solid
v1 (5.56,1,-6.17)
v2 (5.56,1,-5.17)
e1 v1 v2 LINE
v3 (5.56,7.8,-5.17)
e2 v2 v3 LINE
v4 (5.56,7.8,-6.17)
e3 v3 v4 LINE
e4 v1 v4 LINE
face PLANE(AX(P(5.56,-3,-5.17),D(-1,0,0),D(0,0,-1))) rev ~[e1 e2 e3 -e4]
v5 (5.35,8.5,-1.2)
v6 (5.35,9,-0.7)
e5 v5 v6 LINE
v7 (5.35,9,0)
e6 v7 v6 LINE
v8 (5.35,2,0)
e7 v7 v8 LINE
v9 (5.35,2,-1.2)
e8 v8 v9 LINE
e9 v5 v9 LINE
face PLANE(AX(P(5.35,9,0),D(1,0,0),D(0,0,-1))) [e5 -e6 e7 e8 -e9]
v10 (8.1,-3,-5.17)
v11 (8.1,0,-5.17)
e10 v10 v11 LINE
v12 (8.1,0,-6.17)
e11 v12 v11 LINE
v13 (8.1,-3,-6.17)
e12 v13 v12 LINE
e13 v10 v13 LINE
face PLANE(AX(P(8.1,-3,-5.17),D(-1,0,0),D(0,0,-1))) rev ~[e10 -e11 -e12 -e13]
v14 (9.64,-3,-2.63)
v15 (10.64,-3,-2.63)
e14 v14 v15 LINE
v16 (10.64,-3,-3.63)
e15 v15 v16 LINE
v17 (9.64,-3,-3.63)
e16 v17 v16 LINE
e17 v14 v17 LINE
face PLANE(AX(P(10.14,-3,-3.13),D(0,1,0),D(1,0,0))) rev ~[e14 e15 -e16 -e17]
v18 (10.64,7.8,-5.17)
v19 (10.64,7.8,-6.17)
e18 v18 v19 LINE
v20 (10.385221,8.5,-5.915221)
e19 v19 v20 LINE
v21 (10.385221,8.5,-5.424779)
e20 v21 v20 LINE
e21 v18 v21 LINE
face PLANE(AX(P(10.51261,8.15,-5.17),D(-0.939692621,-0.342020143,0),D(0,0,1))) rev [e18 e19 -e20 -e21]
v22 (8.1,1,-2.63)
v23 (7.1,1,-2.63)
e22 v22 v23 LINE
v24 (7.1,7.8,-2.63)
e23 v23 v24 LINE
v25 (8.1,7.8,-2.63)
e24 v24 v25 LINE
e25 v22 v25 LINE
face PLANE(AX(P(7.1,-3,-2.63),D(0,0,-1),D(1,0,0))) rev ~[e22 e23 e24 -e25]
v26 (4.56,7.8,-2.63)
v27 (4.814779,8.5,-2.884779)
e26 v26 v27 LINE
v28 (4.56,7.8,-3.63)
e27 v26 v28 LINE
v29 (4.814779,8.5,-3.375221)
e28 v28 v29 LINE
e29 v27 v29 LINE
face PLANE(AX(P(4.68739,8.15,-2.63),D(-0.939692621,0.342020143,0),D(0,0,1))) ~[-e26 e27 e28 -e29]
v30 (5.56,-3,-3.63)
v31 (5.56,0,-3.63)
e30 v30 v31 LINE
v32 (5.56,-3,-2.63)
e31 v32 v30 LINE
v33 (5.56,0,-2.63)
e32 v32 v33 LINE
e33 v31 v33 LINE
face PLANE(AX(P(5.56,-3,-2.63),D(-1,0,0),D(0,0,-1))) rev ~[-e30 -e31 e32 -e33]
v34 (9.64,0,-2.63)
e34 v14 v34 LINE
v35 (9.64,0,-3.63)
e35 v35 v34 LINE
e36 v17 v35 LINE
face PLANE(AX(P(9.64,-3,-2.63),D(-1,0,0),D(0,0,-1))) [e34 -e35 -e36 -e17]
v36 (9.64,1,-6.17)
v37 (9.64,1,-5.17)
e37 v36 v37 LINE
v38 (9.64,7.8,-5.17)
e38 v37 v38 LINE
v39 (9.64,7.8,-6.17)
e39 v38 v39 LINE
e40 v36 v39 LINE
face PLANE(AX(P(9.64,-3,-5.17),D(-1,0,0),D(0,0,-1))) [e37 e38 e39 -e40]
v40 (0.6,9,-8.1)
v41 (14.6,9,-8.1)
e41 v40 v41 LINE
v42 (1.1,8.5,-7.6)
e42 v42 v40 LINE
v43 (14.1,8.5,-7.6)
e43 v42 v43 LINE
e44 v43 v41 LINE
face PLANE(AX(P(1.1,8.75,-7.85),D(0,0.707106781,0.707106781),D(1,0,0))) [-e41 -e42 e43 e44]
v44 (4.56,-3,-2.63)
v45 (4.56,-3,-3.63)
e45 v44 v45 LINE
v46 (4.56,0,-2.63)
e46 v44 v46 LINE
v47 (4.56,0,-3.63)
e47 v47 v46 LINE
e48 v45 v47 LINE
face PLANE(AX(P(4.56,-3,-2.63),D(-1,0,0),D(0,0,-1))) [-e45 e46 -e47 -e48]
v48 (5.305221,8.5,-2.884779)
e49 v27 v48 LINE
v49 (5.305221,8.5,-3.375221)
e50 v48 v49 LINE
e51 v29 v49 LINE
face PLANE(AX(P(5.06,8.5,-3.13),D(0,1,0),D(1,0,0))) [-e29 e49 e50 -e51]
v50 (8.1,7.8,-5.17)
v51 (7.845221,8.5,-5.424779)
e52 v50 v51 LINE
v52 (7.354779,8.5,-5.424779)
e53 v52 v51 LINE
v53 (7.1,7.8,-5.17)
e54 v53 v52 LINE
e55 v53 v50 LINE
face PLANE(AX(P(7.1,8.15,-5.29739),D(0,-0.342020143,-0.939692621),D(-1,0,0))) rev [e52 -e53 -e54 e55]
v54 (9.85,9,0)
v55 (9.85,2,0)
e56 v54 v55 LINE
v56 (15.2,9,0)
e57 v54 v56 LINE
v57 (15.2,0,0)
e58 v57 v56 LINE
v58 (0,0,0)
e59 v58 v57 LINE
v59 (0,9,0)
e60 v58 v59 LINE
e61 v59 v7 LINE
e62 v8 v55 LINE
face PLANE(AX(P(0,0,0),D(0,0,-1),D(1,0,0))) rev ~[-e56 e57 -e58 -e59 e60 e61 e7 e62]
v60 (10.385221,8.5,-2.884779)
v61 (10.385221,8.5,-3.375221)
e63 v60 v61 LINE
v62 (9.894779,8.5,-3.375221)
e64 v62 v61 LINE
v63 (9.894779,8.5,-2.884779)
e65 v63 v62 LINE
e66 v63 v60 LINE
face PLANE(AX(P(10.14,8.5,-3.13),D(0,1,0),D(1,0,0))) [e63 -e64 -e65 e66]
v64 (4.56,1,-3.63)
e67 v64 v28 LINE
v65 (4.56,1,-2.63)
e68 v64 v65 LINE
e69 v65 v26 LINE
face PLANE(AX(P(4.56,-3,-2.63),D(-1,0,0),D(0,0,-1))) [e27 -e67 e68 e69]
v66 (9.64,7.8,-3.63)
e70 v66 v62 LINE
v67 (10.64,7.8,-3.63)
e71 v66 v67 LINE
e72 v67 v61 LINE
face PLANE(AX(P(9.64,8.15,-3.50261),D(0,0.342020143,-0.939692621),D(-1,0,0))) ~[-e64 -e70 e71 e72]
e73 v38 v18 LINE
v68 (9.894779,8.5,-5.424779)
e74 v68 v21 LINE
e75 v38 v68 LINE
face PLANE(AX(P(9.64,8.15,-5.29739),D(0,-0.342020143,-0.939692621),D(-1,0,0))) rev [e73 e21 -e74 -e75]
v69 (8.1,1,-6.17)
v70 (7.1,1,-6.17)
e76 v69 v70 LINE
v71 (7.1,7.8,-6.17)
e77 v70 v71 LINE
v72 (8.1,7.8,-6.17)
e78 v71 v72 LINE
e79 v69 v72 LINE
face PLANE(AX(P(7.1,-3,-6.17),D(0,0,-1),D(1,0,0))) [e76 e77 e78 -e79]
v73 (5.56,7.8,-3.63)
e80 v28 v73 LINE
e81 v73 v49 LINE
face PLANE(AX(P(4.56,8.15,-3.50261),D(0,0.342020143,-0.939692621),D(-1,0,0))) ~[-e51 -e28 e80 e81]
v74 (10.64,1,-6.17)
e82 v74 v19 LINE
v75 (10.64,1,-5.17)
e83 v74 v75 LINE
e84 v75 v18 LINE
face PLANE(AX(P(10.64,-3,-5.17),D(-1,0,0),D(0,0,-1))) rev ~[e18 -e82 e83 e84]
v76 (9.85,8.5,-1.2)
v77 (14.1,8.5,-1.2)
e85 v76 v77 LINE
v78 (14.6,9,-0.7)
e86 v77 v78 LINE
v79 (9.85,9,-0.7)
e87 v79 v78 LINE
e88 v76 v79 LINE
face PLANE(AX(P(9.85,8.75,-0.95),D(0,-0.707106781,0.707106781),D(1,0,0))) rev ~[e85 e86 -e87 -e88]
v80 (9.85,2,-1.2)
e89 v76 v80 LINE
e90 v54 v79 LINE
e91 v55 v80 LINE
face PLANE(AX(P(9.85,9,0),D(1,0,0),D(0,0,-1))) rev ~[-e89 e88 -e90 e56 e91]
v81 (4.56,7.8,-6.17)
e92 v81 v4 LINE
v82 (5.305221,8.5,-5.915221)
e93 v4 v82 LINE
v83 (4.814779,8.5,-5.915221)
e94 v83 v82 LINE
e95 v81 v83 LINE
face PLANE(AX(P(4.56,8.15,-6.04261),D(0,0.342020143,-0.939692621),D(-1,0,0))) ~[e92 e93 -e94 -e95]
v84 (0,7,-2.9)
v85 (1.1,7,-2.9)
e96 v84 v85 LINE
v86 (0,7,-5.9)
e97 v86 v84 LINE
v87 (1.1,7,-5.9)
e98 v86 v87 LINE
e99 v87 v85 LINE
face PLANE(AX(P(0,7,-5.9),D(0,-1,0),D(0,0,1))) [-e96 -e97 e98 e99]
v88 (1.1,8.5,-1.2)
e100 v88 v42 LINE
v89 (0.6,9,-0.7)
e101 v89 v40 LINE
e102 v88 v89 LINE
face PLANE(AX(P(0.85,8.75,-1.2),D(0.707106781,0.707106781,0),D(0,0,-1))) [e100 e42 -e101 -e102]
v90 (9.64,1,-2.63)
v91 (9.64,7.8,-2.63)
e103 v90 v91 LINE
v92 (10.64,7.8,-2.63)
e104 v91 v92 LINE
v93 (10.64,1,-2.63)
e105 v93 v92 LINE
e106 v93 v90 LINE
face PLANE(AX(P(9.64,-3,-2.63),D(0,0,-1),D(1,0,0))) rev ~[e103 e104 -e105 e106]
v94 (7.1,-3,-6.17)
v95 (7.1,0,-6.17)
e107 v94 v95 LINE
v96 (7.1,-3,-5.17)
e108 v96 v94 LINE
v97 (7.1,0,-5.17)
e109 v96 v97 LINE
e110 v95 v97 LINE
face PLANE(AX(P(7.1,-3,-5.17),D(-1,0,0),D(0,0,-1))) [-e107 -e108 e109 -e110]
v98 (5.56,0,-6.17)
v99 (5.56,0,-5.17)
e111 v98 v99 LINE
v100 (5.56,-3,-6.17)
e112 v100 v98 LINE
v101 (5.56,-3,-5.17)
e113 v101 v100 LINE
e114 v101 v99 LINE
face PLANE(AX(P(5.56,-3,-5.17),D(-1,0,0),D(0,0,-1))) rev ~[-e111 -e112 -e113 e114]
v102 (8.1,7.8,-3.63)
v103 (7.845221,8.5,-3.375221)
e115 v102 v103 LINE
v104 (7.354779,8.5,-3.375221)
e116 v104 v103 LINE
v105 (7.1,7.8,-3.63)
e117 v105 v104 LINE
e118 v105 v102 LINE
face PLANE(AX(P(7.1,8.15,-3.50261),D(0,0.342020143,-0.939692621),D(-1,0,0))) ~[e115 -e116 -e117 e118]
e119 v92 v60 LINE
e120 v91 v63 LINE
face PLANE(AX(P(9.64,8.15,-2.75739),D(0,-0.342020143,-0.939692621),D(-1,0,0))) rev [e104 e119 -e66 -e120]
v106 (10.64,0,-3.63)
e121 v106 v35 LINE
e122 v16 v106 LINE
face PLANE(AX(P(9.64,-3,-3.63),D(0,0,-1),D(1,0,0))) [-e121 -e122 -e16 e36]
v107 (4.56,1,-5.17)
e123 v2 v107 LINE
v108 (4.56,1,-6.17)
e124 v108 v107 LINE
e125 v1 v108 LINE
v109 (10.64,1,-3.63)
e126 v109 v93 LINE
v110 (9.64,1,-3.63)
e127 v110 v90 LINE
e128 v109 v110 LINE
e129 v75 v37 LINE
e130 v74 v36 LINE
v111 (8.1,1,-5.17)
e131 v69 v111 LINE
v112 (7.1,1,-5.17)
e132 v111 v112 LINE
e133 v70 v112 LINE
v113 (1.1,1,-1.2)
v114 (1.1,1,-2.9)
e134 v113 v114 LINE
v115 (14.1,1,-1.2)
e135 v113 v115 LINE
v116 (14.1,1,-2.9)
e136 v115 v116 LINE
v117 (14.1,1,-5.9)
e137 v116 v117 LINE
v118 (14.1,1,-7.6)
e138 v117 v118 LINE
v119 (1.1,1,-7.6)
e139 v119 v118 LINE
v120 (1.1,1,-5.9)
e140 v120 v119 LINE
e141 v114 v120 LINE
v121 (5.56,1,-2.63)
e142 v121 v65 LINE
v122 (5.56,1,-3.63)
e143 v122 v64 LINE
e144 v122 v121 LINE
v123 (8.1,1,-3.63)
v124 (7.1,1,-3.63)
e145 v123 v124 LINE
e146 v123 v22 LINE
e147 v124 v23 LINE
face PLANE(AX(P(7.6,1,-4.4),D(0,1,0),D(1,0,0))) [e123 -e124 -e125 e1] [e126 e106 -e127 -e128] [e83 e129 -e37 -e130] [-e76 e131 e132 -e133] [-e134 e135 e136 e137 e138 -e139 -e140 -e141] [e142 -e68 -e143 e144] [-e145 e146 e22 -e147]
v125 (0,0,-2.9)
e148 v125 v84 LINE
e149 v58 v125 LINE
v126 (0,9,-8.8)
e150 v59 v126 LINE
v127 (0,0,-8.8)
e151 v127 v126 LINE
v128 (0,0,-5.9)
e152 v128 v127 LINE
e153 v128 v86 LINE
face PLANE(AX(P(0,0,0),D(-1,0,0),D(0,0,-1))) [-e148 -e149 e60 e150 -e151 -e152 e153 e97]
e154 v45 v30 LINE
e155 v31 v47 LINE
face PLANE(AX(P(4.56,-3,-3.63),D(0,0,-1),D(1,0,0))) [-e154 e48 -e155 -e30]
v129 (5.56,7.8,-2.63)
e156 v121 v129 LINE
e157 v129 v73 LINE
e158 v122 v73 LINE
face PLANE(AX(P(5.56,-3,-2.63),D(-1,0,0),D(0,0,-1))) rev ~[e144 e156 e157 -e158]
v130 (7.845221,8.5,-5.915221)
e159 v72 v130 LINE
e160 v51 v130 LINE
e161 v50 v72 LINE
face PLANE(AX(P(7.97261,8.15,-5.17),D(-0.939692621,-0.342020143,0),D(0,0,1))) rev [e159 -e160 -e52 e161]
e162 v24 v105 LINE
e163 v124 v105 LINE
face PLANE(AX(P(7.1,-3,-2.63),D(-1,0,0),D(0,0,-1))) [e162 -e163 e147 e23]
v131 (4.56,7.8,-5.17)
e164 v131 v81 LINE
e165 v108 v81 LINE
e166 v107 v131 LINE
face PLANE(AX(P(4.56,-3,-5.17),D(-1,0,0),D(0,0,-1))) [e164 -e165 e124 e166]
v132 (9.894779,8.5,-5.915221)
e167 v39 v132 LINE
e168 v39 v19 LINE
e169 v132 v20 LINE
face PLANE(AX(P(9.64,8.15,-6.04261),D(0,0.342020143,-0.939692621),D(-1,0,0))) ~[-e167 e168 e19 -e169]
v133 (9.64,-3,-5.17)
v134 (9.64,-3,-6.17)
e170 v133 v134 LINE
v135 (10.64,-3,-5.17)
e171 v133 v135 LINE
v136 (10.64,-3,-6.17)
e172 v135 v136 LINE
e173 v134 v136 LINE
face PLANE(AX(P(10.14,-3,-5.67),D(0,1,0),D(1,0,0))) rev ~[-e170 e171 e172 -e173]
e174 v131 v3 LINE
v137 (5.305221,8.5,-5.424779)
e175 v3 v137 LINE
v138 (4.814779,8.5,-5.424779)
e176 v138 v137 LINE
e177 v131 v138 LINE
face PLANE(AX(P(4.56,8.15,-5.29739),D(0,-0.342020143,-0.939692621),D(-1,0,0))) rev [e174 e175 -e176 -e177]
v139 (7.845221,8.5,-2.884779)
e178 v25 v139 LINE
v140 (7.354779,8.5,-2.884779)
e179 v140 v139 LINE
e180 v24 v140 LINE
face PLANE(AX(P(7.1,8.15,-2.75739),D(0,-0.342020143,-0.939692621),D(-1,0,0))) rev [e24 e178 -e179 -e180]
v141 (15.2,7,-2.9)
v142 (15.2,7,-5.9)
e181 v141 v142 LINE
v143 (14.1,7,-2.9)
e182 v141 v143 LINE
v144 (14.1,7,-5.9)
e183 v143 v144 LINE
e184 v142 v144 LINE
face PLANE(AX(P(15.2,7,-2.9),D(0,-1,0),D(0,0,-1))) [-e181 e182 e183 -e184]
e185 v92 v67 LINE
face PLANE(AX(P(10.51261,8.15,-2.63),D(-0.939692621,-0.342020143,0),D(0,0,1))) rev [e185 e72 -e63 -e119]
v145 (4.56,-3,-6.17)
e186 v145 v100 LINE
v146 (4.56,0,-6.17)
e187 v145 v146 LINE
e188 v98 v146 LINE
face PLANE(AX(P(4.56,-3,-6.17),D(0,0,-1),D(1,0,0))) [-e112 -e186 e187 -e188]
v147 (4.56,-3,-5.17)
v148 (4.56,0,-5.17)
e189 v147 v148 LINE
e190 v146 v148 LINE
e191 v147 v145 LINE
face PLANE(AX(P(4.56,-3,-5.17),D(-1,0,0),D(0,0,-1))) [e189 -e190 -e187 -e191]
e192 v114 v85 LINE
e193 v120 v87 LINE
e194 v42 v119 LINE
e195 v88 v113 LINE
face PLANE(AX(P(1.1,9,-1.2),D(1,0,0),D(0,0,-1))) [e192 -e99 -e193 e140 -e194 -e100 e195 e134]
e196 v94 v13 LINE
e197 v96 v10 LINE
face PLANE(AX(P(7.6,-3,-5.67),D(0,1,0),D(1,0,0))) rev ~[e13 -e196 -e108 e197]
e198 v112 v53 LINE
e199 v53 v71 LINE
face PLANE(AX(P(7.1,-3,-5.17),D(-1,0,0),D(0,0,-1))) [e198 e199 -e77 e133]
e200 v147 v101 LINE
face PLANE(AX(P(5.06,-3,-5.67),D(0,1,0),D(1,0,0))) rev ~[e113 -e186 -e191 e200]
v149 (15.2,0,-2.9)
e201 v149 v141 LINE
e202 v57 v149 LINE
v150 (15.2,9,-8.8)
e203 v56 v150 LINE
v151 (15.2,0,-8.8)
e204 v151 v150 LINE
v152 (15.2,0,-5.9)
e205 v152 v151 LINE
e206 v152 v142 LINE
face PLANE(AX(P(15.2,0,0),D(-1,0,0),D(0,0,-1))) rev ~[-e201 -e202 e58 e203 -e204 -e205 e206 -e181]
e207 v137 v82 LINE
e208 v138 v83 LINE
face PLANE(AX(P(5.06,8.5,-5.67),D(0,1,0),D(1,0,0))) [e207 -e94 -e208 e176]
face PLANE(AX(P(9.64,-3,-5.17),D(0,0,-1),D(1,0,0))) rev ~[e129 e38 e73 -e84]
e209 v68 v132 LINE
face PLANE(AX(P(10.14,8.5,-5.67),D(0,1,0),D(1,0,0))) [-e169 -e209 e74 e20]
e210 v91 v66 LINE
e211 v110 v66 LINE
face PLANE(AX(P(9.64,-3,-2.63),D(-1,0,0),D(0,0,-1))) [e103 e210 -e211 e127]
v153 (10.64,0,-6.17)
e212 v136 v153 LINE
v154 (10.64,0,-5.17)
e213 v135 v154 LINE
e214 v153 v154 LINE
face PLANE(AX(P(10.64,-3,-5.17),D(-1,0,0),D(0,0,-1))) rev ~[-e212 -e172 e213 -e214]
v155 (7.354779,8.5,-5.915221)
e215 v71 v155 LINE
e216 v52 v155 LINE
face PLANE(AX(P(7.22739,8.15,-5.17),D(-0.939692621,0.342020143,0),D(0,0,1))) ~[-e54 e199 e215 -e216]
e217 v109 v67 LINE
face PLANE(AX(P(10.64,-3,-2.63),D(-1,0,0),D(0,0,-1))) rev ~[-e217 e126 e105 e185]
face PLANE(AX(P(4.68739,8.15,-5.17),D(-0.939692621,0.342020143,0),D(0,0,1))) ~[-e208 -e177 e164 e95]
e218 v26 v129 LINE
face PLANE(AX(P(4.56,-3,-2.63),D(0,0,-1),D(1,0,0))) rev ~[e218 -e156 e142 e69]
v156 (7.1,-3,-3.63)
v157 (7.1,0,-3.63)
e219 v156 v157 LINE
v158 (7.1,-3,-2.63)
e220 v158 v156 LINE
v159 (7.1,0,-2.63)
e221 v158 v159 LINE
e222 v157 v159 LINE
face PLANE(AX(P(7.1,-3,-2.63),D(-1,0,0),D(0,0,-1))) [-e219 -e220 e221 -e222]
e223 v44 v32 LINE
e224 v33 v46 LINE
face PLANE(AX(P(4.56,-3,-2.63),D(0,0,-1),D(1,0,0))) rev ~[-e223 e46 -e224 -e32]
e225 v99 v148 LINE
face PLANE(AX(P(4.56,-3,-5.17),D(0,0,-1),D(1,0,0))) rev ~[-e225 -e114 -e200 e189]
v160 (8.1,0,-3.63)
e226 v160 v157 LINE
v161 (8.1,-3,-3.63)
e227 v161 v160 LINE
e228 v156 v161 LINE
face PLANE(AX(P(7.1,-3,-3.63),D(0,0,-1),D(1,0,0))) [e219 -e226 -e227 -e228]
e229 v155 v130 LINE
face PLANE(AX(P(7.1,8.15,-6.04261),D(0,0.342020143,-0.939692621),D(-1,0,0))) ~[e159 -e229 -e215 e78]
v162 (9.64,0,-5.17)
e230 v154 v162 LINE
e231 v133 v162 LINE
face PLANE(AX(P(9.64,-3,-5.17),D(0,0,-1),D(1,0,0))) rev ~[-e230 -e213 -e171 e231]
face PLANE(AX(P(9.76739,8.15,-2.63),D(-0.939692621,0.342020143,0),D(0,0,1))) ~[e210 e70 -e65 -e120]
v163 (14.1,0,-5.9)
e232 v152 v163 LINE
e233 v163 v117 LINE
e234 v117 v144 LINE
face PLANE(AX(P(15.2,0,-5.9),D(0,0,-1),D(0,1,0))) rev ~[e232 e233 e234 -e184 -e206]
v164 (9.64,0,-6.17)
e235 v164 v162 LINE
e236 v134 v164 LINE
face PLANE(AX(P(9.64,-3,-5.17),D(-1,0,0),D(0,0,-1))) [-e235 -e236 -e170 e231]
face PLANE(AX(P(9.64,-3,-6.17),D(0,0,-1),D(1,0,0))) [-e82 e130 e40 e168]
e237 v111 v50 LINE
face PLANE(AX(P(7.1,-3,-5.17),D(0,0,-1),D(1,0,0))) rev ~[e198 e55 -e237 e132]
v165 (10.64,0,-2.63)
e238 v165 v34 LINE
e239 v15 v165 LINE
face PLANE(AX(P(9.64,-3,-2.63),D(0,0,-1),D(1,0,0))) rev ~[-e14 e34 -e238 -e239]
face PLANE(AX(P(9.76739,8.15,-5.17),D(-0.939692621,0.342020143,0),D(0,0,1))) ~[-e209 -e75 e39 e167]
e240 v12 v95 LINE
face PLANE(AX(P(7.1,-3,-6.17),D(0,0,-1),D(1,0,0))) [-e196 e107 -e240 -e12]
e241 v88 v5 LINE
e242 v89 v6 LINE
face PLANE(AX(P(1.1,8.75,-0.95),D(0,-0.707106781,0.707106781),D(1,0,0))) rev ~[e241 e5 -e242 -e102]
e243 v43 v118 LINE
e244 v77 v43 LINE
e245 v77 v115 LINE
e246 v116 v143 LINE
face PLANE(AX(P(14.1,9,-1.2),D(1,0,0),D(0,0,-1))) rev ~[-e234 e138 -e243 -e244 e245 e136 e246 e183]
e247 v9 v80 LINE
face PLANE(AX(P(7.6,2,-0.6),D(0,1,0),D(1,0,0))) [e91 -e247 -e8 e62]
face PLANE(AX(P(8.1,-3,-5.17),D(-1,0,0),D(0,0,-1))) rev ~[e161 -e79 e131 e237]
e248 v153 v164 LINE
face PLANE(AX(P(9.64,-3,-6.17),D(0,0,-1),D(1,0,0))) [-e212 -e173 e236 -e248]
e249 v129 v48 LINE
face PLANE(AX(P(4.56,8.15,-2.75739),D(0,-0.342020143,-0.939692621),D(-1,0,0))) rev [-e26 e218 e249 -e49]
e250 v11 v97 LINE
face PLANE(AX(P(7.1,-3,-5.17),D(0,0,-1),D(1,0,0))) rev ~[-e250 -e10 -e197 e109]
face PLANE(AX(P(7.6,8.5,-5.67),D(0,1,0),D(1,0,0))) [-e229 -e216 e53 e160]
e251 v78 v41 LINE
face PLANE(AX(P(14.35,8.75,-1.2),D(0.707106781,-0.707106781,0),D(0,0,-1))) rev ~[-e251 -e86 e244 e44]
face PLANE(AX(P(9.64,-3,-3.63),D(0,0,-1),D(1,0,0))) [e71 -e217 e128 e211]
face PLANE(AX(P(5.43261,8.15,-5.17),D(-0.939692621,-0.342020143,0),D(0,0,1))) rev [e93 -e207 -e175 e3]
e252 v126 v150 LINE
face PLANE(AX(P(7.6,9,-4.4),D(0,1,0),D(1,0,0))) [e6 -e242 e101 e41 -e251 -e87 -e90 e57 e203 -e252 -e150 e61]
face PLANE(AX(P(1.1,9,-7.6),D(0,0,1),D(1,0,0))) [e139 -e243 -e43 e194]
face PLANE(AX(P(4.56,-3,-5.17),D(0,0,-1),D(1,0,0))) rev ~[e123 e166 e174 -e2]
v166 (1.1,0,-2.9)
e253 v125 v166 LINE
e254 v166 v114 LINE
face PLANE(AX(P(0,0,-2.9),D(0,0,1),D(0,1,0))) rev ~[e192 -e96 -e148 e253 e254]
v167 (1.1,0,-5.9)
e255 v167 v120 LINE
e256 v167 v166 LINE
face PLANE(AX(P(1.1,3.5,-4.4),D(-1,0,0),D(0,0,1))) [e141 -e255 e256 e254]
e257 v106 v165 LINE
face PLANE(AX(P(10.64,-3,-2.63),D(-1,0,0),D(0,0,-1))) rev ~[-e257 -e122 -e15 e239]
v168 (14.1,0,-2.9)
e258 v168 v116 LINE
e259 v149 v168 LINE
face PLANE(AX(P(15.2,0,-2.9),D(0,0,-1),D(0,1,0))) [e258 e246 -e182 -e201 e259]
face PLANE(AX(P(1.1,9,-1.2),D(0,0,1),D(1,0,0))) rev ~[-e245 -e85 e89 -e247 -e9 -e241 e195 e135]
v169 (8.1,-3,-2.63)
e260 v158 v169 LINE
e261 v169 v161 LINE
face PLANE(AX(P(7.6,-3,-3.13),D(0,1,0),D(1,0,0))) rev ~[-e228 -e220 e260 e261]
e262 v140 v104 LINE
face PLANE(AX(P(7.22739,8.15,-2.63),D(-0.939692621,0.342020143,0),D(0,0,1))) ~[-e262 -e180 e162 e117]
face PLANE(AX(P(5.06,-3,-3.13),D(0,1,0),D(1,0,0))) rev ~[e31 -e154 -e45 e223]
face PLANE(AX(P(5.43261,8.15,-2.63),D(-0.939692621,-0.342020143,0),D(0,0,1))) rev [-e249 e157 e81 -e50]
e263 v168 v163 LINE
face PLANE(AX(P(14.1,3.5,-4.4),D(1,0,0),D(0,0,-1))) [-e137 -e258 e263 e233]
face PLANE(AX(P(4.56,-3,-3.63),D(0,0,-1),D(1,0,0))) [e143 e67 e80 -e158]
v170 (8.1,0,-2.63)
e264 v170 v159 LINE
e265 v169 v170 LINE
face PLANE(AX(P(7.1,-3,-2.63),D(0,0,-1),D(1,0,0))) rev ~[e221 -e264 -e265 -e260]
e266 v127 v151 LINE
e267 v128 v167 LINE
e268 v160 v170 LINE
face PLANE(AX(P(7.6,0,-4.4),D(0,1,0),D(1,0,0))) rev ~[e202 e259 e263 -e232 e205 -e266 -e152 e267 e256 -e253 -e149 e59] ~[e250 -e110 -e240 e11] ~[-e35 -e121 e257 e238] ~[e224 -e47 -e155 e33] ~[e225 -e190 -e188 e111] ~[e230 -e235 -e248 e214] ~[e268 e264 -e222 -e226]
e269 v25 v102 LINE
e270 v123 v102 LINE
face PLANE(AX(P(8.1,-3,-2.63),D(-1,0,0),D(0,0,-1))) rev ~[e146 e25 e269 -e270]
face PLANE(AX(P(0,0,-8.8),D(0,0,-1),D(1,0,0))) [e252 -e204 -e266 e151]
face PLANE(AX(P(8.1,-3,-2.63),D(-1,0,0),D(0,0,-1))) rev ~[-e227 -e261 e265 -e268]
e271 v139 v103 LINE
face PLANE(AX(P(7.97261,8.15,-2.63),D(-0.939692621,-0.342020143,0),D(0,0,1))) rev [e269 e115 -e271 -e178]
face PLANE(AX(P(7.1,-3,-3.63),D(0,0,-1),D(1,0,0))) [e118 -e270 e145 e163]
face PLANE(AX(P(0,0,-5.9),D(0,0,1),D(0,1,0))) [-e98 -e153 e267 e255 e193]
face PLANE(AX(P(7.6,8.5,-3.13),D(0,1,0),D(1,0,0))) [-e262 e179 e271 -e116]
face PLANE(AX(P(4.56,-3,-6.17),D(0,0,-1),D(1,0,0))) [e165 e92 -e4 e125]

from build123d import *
from OCP.BRepFilletAPI import BRepFilletAPI_MakeChamfer

# Parameters (mm, degrees)
SKETCH1_W                = 15.2
SKETCH1_H                = 8.8
BOSS_EXTRUDE1_DEPTH      = 9
SKETCH3_W                = 13
SKETCH3_H                = 6.4
CUT_EXTRUDE1_DEPTH       = 8
SKETCH4_W                = 4.5
SKETCH4_H                = 1.2
CUT_EXTRUDE2_DEPTH       = 7
SKETCH5_W                = 3
SKETCH5_H                = 7
CUT_EXTRUDE3_DEPTH       = 1.1
SKETCH6_W                = 3
SKETCH6_H                = 7
CUT_EXTRUDE4_DEPTH       = 1.1
BOSS_EXTRUDE2_DEPTH      = 7.5
BOSS_EXTRUDE2_DEPTH_BACK = 4
SKETCH7_W                = 1
SKETCH7_H                = 1
CHAMFER1_SIZE            = 0.7
CHAMFER1_SIZE2           = 0.254779164
CHAMFER2_SIZE            = 0.5


with BuildPart() as part:
    # Sketch1 → Boss-Extrude1 (new body)
    with BuildSketch(Plane(origin=(0, 0, 0), x_dir=(1, 0, 0), z_dir=(0, 1, 0))):
        with Locations((7.6, 4.4)):
            Rectangle(SKETCH1_W, SKETCH1_H)
    extrude(amount=BOSS_EXTRUDE1_DEPTH)

    # Sketch3 → Cut-Extrude1 (cut)
    with BuildSketch(Plane(origin=(0, 9, 0), x_dir=(1, 0, 0), z_dir=(0, 1, 0))):
        with Locations((7.6, 4.4)):
            Rectangle(SKETCH3_W, SKETCH3_H)
    extrude(amount=-CUT_EXTRUDE1_DEPTH, mode=Mode.SUBTRACT)

    # Sketch4 → Cut-Extrude2 (cut)
    with BuildSketch(Plane(origin=(0, 9, 0), x_dir=(1, 0, 0), z_dir=(0, 1, 0))):
        with Locations((7.6, 0.6)):
            Rectangle(SKETCH4_W, SKETCH4_H)
    extrude(amount=-CUT_EXTRUDE2_DEPTH, mode=Mode.SUBTRACT)

    # Sketch5 → Cut-Extrude3 (cut)
    with BuildSketch(Plane.ZY):
        with Locations((-4.4, 3.5)):
            Rectangle(SKETCH5_W, SKETCH5_H)
    extrude(amount=-CUT_EXTRUDE3_DEPTH, mode=Mode.SUBTRACT)

    # Sketch6 → Cut-Extrude4 (cut)
    with BuildSketch(Plane(origin=(15.2, 0, 0), x_dir=(0, 0, -1), z_dir=(1, 0, 0))):
        with Locations((4.4, 3.5)):
            Rectangle(SKETCH6_W, SKETCH6_H)
    extrude(amount=-CUT_EXTRUDE4_DEPTH, mode=Mode.SUBTRACT)

    # Sketch7 → Boss-Extrude2 (add, two sides: drawn at the far end of the back side and taken through both)
    with BuildSketch(Plane(origin=(0, 1, 0), x_dir=(1, 0, 0), z_dir=(0, 1, 0)).offset(-BOSS_EXTRUDE2_DEPTH_BACK)):
        with Locations((7.6, 5.67)):
            Rectangle(SKETCH7_W, SKETCH7_H)
        with Locations((5.06, 5.67)):
            Rectangle(SKETCH7_W, SKETCH7_H)
        with Locations((10.14, 5.67)):
            Rectangle(SKETCH7_W, SKETCH7_H)
        with Locations((7.6, 3.13)):
            Rectangle(SKETCH7_W, SKETCH7_H)
        with Locations((10.14, 3.13)):
            Rectangle(SKETCH7_W, SKETCH7_H)
        with Locations((5.06, 3.13)):
            Rectangle(SKETCH7_W, SKETCH7_H)
    extrude(amount=BOSS_EXTRUDE2_DEPTH + BOSS_EXTRUDE2_DEPTH_BACK)

    # Chamfer1: one chamfer whose edges measure the first distance from different faces: ONE call of the kernel's chamfer builder (chamfer() names one face for all edges)
    chamfer1_edges_1 = [part.edges().sort_by_distance(p)[0] for p in [
        (7.1, 8.5, -5.67),
    ]]
    chamfer1_side_1 = [part.faces().sort_by_distance(p)[0] for p in [
        (7.1, 4.75, -5.67),
    ]]
    chamfer1_edges_2 = [part.edges().sort_by_distance(p)[0] for p in [
        (7.6, 8.5, -5.17),
    ]]
    chamfer1_side_2 = [part.faces().sort_by_distance(p)[0] for p in [
        (7.6, 4.75, -5.17),
    ]]
    chamfer1_edges_3 = [part.edges().sort_by_distance(p)[0] for p in [
        (8.1, 8.5, -5.67),
    ]]
    chamfer1_side_3 = [part.faces().sort_by_distance(p)[0] for p in [
        (8.1, 4.75, -5.67),
    ]]
    chamfer1_edges_4 = [part.edges().sort_by_distance(p)[0] for p in [
        (7.6, 8.5, -6.17),
    ]]
    chamfer1_side_4 = [part.faces().sort_by_distance(p)[0] for p in [
        (7.6, 4.75, -6.17),
    ]]
    chamfer1_edges_5 = [part.edges().sort_by_distance(p)[0] for p in [
        (9.64, 8.5, -5.67),
    ]]
    chamfer1_side_5 = [part.faces().sort_by_distance(p)[0] for p in [
        (9.64, 4.75, -5.67),
    ]]
    chamfer1_edges_6 = [part.edges().sort_by_distance(p)[0] for p in [
        (10.14, 8.5, -5.17),
    ]]
    chamfer1_side_6 = [part.faces().sort_by_distance(p)[0] for p in [
        (10.14, 4.75, -5.17),
    ]]
    chamfer1_edges_7 = [part.edges().sort_by_distance(p)[0] for p in [
        (10.64, 8.5, -5.67),
    ]]
    chamfer1_side_7 = [part.faces().sort_by_distance(p)[0] for p in [
        (10.64, 4.75, -5.67),
    ]]
    chamfer1_edges_8 = [part.edges().sort_by_distance(p)[0] for p in [
        (10.14, 8.5, -6.17),
    ]]
    chamfer1_side_8 = [part.faces().sort_by_distance(p)[0] for p in [
        (10.14, 4.75, -6.17),
    ]]
    chamfer1_edges_9 = [part.edges().sort_by_distance(p)[0] for p in [
        (7.1, 8.5, -3.13),
    ]]
    chamfer1_side_9 = [part.faces().sort_by_distance(p)[0] for p in [
        (7.1, 4.75, -3.13),
    ]]
    chamfer1_edges_10 = [part.edges().sort_by_distance(p)[0] for p in [
        (7.6, 8.5, -2.63),
    ]]
    chamfer1_side_10 = [part.faces().sort_by_distance(p)[0] for p in [
        (7.6, 4.75, -2.63),
    ]]
    chamfer1_edges_11 = [part.edges().sort_by_distance(p)[0] for p in [
        (8.1, 8.5, -3.13),
    ]]
    chamfer1_side_11 = [part.faces().sort_by_distance(p)[0] for p in [
        (8.1, 4.75, -3.13),
    ]]
    chamfer1_edges_12 = [part.edges().sort_by_distance(p)[0] for p in [
        (7.6, 8.5, -3.63),
    ]]
    chamfer1_side_12 = [part.faces().sort_by_distance(p)[0] for p in [
        (7.6, 4.75, -3.63),
    ]]
    chamfer1_edges_13 = [part.edges().sort_by_distance(p)[0] for p in [
        (9.64, 8.5, -3.13),
    ]]
    chamfer1_side_13 = [part.faces().sort_by_distance(p)[0] for p in [
        (9.64, 4.75, -3.13),
    ]]
    chamfer1_edges_14 = [part.edges().sort_by_distance(p)[0] for p in [
        (10.14, 8.5, -2.63),
    ]]
    chamfer1_side_14 = [part.faces().sort_by_distance(p)[0] for p in [
        (10.14, 4.75, -2.63),
    ]]
    chamfer1_edges_15 = [part.edges().sort_by_distance(p)[0] for p in [
        (10.64, 8.5, -3.13),
    ]]
    chamfer1_side_15 = [part.faces().sort_by_distance(p)[0] for p in [
        (10.64, 4.75, -3.13),
    ]]
    chamfer1_edges_16 = [part.edges().sort_by_distance(p)[0] for p in [
        (10.14, 8.5, -3.63),
    ]]
    chamfer1_side_16 = [part.faces().sort_by_distance(p)[0] for p in [
        (10.14, 4.75, -3.63),
    ]]
    chamfer1_edges_17 = [part.edges().sort_by_distance(p)[0] for p in [
        (4.56, 8.5, -3.13),
    ]]
    chamfer1_side_17 = [part.faces().sort_by_distance(p)[0] for p in [
        (4.56, 4.75, -3.13),
    ]]
    chamfer1_edges_18 = [part.edges().sort_by_distance(p)[0] for p in [
        (5.06, 8.5, -2.63),
    ]]
    chamfer1_side_18 = [part.faces().sort_by_distance(p)[0] for p in [
        (5.06, 4.75, -2.63),
    ]]
    chamfer1_edges_19 = [part.edges().sort_by_distance(p)[0] for p in [
        (5.56, 8.5, -3.13),
    ]]
    chamfer1_side_19 = [part.faces().sort_by_distance(p)[0] for p in [
        (5.56, 4.75, -3.13),
    ]]
    chamfer1_edges_20 = [part.edges().sort_by_distance(p)[0] for p in [
        (5.06, 8.5, -3.63),
    ]]
    chamfer1_side_20 = [part.faces().sort_by_distance(p)[0] for p in [
        (5.06, 4.75, -3.63),
    ]]
    chamfer1_edges_21 = [part.edges().sort_by_distance(p)[0] for p in [
        (4.56, 8.5, -5.67),
    ]]
    chamfer1_side_21 = [part.faces().sort_by_distance(p)[0] for p in [
        (4.56, 4.75, -5.67),
    ]]
    chamfer1_edges_22 = [part.edges().sort_by_distance(p)[0] for p in [
        (5.06, 8.5, -5.17),
    ]]
    chamfer1_side_22 = [part.faces().sort_by_distance(p)[0] for p in [
        (5.06, 4.75, -5.17),
    ]]
    chamfer1_edges_23 = [part.edges().sort_by_distance(p)[0] for p in [
        (5.56, 8.5, -5.67),
    ]]
    chamfer1_side_23 = [part.faces().sort_by_distance(p)[0] for p in [
        (5.56, 4.75, -5.67),
    ]]
    chamfer1_edges_24 = [part.edges().sort_by_distance(p)[0] for p in [
        (5.06, 8.5, -6.17),
    ]]
    chamfer1_side_24 = [part.faces().sort_by_distance(p)[0] for p in [
        (5.06, 4.75, -6.17),
    ]]
    chamfer1 = BRepFilletAPI_MakeChamfer(part.part.solid().wrapped)
    for e in chamfer1_edges_1:
        chamfer1.Add(CHAMFER1_SIZE, CHAMFER1_SIZE2, e.wrapped, chamfer1_side_1[0].wrapped)  # the first distance lies on this face
    for e in chamfer1_edges_2:
        chamfer1.Add(CHAMFER1_SIZE, CHAMFER1_SIZE2, e.wrapped, chamfer1_side_2[0].wrapped)  # the first distance lies on this face
    for e in chamfer1_edges_3:
        chamfer1.Add(CHAMFER1_SIZE, CHAMFER1_SIZE2, e.wrapped, chamfer1_side_3[0].wrapped)  # the first distance lies on this face
    for e in chamfer1_edges_4:
        chamfer1.Add(CHAMFER1_SIZE, CHAMFER1_SIZE2, e.wrapped, chamfer1_side_4[0].wrapped)  # the first distance lies on this face
    for e in chamfer1_edges_5:
        chamfer1.Add(CHAMFER1_SIZE, CHAMFER1_SIZE2, e.wrapped, chamfer1_side_5[0].wrapped)  # the first distance lies on this face
    for e in chamfer1_edges_6:
        chamfer1.Add(CHAMFER1_SIZE, CHAMFER1_SIZE2, e.wrapped, chamfer1_side_6[0].wrapped)  # the first distance lies on this face
    for e in chamfer1_edges_7:
        chamfer1.Add(CHAMFER1_SIZE, CHAMFER1_SIZE2, e.wrapped, chamfer1_side_7[0].wrapped)  # the first distance lies on this face
    for e in chamfer1_edges_8:
        chamfer1.Add(CHAMFER1_SIZE, CHAMFER1_SIZE2, e.wrapped, chamfer1_side_8[0].wrapped)  # the first distance lies on this face
    for e in chamfer1_edges_9:
        chamfer1.Add(CHAMFER1_SIZE, CHAMFER1_SIZE2, e.wrapped, chamfer1_side_9[0].wrapped)  # the first distance lies on this face
    for e in chamfer1_edges_10:
        chamfer1.Add(CHAMFER1_SIZE, CHAMFER1_SIZE2, e.wrapped, chamfer1_side_10[0].wrapped)  # the first distance lies on this face
    for e in chamfer1_edges_11:
        chamfer1.Add(CHAMFER1_SIZE, CHAMFER1_SIZE2, e.wrapped, chamfer1_side_11[0].wrapped)  # the first distance lies on this face
    for e in chamfer1_edges_12:
        chamfer1.Add(CHAMFER1_SIZE, CHAMFER1_SIZE2, e.wrapped, chamfer1_side_12[0].wrapped)  # the first distance lies on this face
    for e in chamfer1_edges_13:
        chamfer1.Add(CHAMFER1_SIZE, CHAMFER1_SIZE2, e.wrapped, chamfer1_side_13[0].wrapped)  # the first distance lies on this face
    for e in chamfer1_edges_14:
        chamfer1.Add(CHAMFER1_SIZE, CHAMFER1_SIZE2, e.wrapped, chamfer1_side_14[0].wrapped)  # the first distance lies on this face
    for e in chamfer1_edges_15:
        chamfer1.Add(CHAMFER1_SIZE, CHAMFER1_SIZE2, e.wrapped, chamfer1_side_15[0].wrapped)  # the first distance lies on this face
    for e in chamfer1_edges_16:
        chamfer1.Add(CHAMFER1_SIZE, CHAMFER1_SIZE2, e.wrapped, chamfer1_side_16[0].wrapped)  # the first distance lies on this face
    for e in chamfer1_edges_17:
        chamfer1.Add(CHAMFER1_SIZE, CHAMFER1_SIZE2, e.wrapped, chamfer1_side_17[0].wrapped)  # the first distance lies on this face
    for e in chamfer1_edges_18:
        chamfer1.Add(CHAMFER1_SIZE, CHAMFER1_SIZE2, e.wrapped, chamfer1_side_18[0].wrapped)  # the first distance lies on this face
    for e in chamfer1_edges_19:
        chamfer1.Add(CHAMFER1_SIZE, CHAMFER1_SIZE2, e.wrapped, chamfer1_side_19[0].wrapped)  # the first distance lies on this face
    for e in chamfer1_edges_20:
        chamfer1.Add(CHAMFER1_SIZE, CHAMFER1_SIZE2, e.wrapped, chamfer1_side_20[0].wrapped)  # the first distance lies on this face
    for e in chamfer1_edges_21:
        chamfer1.Add(CHAMFER1_SIZE, CHAMFER1_SIZE2, e.wrapped, chamfer1_side_21[0].wrapped)  # the first distance lies on this face
    for e in chamfer1_edges_22:
        chamfer1.Add(CHAMFER1_SIZE, CHAMFER1_SIZE2, e.wrapped, chamfer1_side_22[0].wrapped)  # the first distance lies on this face
    for e in chamfer1_edges_23:
        chamfer1.Add(CHAMFER1_SIZE, CHAMFER1_SIZE2, e.wrapped, chamfer1_side_23[0].wrapped)  # the first distance lies on this face
    for e in chamfer1_edges_24:
        chamfer1.Add(CHAMFER1_SIZE, CHAMFER1_SIZE2, e.wrapped, chamfer1_side_24[0].wrapped)  # the first distance lies on this face
    add(Compound.cast(chamfer1.Shape()), mode=Mode.REPLACE)

    # Chamfer2
    chamfer2_edges = [part.edges().sort_by_distance(p)[0] for p in [
        (1.1, 9, -4.4),
        (3.225, 9, -1.2),
        (14.1, 9, -4.4),
        (7.6, 9, -7.6),
        (11.975, 9, -1.2),
    ]]
    chamfer(chamfer2_edges, length=CHAMFER2_SIZE)


solid = part.part
